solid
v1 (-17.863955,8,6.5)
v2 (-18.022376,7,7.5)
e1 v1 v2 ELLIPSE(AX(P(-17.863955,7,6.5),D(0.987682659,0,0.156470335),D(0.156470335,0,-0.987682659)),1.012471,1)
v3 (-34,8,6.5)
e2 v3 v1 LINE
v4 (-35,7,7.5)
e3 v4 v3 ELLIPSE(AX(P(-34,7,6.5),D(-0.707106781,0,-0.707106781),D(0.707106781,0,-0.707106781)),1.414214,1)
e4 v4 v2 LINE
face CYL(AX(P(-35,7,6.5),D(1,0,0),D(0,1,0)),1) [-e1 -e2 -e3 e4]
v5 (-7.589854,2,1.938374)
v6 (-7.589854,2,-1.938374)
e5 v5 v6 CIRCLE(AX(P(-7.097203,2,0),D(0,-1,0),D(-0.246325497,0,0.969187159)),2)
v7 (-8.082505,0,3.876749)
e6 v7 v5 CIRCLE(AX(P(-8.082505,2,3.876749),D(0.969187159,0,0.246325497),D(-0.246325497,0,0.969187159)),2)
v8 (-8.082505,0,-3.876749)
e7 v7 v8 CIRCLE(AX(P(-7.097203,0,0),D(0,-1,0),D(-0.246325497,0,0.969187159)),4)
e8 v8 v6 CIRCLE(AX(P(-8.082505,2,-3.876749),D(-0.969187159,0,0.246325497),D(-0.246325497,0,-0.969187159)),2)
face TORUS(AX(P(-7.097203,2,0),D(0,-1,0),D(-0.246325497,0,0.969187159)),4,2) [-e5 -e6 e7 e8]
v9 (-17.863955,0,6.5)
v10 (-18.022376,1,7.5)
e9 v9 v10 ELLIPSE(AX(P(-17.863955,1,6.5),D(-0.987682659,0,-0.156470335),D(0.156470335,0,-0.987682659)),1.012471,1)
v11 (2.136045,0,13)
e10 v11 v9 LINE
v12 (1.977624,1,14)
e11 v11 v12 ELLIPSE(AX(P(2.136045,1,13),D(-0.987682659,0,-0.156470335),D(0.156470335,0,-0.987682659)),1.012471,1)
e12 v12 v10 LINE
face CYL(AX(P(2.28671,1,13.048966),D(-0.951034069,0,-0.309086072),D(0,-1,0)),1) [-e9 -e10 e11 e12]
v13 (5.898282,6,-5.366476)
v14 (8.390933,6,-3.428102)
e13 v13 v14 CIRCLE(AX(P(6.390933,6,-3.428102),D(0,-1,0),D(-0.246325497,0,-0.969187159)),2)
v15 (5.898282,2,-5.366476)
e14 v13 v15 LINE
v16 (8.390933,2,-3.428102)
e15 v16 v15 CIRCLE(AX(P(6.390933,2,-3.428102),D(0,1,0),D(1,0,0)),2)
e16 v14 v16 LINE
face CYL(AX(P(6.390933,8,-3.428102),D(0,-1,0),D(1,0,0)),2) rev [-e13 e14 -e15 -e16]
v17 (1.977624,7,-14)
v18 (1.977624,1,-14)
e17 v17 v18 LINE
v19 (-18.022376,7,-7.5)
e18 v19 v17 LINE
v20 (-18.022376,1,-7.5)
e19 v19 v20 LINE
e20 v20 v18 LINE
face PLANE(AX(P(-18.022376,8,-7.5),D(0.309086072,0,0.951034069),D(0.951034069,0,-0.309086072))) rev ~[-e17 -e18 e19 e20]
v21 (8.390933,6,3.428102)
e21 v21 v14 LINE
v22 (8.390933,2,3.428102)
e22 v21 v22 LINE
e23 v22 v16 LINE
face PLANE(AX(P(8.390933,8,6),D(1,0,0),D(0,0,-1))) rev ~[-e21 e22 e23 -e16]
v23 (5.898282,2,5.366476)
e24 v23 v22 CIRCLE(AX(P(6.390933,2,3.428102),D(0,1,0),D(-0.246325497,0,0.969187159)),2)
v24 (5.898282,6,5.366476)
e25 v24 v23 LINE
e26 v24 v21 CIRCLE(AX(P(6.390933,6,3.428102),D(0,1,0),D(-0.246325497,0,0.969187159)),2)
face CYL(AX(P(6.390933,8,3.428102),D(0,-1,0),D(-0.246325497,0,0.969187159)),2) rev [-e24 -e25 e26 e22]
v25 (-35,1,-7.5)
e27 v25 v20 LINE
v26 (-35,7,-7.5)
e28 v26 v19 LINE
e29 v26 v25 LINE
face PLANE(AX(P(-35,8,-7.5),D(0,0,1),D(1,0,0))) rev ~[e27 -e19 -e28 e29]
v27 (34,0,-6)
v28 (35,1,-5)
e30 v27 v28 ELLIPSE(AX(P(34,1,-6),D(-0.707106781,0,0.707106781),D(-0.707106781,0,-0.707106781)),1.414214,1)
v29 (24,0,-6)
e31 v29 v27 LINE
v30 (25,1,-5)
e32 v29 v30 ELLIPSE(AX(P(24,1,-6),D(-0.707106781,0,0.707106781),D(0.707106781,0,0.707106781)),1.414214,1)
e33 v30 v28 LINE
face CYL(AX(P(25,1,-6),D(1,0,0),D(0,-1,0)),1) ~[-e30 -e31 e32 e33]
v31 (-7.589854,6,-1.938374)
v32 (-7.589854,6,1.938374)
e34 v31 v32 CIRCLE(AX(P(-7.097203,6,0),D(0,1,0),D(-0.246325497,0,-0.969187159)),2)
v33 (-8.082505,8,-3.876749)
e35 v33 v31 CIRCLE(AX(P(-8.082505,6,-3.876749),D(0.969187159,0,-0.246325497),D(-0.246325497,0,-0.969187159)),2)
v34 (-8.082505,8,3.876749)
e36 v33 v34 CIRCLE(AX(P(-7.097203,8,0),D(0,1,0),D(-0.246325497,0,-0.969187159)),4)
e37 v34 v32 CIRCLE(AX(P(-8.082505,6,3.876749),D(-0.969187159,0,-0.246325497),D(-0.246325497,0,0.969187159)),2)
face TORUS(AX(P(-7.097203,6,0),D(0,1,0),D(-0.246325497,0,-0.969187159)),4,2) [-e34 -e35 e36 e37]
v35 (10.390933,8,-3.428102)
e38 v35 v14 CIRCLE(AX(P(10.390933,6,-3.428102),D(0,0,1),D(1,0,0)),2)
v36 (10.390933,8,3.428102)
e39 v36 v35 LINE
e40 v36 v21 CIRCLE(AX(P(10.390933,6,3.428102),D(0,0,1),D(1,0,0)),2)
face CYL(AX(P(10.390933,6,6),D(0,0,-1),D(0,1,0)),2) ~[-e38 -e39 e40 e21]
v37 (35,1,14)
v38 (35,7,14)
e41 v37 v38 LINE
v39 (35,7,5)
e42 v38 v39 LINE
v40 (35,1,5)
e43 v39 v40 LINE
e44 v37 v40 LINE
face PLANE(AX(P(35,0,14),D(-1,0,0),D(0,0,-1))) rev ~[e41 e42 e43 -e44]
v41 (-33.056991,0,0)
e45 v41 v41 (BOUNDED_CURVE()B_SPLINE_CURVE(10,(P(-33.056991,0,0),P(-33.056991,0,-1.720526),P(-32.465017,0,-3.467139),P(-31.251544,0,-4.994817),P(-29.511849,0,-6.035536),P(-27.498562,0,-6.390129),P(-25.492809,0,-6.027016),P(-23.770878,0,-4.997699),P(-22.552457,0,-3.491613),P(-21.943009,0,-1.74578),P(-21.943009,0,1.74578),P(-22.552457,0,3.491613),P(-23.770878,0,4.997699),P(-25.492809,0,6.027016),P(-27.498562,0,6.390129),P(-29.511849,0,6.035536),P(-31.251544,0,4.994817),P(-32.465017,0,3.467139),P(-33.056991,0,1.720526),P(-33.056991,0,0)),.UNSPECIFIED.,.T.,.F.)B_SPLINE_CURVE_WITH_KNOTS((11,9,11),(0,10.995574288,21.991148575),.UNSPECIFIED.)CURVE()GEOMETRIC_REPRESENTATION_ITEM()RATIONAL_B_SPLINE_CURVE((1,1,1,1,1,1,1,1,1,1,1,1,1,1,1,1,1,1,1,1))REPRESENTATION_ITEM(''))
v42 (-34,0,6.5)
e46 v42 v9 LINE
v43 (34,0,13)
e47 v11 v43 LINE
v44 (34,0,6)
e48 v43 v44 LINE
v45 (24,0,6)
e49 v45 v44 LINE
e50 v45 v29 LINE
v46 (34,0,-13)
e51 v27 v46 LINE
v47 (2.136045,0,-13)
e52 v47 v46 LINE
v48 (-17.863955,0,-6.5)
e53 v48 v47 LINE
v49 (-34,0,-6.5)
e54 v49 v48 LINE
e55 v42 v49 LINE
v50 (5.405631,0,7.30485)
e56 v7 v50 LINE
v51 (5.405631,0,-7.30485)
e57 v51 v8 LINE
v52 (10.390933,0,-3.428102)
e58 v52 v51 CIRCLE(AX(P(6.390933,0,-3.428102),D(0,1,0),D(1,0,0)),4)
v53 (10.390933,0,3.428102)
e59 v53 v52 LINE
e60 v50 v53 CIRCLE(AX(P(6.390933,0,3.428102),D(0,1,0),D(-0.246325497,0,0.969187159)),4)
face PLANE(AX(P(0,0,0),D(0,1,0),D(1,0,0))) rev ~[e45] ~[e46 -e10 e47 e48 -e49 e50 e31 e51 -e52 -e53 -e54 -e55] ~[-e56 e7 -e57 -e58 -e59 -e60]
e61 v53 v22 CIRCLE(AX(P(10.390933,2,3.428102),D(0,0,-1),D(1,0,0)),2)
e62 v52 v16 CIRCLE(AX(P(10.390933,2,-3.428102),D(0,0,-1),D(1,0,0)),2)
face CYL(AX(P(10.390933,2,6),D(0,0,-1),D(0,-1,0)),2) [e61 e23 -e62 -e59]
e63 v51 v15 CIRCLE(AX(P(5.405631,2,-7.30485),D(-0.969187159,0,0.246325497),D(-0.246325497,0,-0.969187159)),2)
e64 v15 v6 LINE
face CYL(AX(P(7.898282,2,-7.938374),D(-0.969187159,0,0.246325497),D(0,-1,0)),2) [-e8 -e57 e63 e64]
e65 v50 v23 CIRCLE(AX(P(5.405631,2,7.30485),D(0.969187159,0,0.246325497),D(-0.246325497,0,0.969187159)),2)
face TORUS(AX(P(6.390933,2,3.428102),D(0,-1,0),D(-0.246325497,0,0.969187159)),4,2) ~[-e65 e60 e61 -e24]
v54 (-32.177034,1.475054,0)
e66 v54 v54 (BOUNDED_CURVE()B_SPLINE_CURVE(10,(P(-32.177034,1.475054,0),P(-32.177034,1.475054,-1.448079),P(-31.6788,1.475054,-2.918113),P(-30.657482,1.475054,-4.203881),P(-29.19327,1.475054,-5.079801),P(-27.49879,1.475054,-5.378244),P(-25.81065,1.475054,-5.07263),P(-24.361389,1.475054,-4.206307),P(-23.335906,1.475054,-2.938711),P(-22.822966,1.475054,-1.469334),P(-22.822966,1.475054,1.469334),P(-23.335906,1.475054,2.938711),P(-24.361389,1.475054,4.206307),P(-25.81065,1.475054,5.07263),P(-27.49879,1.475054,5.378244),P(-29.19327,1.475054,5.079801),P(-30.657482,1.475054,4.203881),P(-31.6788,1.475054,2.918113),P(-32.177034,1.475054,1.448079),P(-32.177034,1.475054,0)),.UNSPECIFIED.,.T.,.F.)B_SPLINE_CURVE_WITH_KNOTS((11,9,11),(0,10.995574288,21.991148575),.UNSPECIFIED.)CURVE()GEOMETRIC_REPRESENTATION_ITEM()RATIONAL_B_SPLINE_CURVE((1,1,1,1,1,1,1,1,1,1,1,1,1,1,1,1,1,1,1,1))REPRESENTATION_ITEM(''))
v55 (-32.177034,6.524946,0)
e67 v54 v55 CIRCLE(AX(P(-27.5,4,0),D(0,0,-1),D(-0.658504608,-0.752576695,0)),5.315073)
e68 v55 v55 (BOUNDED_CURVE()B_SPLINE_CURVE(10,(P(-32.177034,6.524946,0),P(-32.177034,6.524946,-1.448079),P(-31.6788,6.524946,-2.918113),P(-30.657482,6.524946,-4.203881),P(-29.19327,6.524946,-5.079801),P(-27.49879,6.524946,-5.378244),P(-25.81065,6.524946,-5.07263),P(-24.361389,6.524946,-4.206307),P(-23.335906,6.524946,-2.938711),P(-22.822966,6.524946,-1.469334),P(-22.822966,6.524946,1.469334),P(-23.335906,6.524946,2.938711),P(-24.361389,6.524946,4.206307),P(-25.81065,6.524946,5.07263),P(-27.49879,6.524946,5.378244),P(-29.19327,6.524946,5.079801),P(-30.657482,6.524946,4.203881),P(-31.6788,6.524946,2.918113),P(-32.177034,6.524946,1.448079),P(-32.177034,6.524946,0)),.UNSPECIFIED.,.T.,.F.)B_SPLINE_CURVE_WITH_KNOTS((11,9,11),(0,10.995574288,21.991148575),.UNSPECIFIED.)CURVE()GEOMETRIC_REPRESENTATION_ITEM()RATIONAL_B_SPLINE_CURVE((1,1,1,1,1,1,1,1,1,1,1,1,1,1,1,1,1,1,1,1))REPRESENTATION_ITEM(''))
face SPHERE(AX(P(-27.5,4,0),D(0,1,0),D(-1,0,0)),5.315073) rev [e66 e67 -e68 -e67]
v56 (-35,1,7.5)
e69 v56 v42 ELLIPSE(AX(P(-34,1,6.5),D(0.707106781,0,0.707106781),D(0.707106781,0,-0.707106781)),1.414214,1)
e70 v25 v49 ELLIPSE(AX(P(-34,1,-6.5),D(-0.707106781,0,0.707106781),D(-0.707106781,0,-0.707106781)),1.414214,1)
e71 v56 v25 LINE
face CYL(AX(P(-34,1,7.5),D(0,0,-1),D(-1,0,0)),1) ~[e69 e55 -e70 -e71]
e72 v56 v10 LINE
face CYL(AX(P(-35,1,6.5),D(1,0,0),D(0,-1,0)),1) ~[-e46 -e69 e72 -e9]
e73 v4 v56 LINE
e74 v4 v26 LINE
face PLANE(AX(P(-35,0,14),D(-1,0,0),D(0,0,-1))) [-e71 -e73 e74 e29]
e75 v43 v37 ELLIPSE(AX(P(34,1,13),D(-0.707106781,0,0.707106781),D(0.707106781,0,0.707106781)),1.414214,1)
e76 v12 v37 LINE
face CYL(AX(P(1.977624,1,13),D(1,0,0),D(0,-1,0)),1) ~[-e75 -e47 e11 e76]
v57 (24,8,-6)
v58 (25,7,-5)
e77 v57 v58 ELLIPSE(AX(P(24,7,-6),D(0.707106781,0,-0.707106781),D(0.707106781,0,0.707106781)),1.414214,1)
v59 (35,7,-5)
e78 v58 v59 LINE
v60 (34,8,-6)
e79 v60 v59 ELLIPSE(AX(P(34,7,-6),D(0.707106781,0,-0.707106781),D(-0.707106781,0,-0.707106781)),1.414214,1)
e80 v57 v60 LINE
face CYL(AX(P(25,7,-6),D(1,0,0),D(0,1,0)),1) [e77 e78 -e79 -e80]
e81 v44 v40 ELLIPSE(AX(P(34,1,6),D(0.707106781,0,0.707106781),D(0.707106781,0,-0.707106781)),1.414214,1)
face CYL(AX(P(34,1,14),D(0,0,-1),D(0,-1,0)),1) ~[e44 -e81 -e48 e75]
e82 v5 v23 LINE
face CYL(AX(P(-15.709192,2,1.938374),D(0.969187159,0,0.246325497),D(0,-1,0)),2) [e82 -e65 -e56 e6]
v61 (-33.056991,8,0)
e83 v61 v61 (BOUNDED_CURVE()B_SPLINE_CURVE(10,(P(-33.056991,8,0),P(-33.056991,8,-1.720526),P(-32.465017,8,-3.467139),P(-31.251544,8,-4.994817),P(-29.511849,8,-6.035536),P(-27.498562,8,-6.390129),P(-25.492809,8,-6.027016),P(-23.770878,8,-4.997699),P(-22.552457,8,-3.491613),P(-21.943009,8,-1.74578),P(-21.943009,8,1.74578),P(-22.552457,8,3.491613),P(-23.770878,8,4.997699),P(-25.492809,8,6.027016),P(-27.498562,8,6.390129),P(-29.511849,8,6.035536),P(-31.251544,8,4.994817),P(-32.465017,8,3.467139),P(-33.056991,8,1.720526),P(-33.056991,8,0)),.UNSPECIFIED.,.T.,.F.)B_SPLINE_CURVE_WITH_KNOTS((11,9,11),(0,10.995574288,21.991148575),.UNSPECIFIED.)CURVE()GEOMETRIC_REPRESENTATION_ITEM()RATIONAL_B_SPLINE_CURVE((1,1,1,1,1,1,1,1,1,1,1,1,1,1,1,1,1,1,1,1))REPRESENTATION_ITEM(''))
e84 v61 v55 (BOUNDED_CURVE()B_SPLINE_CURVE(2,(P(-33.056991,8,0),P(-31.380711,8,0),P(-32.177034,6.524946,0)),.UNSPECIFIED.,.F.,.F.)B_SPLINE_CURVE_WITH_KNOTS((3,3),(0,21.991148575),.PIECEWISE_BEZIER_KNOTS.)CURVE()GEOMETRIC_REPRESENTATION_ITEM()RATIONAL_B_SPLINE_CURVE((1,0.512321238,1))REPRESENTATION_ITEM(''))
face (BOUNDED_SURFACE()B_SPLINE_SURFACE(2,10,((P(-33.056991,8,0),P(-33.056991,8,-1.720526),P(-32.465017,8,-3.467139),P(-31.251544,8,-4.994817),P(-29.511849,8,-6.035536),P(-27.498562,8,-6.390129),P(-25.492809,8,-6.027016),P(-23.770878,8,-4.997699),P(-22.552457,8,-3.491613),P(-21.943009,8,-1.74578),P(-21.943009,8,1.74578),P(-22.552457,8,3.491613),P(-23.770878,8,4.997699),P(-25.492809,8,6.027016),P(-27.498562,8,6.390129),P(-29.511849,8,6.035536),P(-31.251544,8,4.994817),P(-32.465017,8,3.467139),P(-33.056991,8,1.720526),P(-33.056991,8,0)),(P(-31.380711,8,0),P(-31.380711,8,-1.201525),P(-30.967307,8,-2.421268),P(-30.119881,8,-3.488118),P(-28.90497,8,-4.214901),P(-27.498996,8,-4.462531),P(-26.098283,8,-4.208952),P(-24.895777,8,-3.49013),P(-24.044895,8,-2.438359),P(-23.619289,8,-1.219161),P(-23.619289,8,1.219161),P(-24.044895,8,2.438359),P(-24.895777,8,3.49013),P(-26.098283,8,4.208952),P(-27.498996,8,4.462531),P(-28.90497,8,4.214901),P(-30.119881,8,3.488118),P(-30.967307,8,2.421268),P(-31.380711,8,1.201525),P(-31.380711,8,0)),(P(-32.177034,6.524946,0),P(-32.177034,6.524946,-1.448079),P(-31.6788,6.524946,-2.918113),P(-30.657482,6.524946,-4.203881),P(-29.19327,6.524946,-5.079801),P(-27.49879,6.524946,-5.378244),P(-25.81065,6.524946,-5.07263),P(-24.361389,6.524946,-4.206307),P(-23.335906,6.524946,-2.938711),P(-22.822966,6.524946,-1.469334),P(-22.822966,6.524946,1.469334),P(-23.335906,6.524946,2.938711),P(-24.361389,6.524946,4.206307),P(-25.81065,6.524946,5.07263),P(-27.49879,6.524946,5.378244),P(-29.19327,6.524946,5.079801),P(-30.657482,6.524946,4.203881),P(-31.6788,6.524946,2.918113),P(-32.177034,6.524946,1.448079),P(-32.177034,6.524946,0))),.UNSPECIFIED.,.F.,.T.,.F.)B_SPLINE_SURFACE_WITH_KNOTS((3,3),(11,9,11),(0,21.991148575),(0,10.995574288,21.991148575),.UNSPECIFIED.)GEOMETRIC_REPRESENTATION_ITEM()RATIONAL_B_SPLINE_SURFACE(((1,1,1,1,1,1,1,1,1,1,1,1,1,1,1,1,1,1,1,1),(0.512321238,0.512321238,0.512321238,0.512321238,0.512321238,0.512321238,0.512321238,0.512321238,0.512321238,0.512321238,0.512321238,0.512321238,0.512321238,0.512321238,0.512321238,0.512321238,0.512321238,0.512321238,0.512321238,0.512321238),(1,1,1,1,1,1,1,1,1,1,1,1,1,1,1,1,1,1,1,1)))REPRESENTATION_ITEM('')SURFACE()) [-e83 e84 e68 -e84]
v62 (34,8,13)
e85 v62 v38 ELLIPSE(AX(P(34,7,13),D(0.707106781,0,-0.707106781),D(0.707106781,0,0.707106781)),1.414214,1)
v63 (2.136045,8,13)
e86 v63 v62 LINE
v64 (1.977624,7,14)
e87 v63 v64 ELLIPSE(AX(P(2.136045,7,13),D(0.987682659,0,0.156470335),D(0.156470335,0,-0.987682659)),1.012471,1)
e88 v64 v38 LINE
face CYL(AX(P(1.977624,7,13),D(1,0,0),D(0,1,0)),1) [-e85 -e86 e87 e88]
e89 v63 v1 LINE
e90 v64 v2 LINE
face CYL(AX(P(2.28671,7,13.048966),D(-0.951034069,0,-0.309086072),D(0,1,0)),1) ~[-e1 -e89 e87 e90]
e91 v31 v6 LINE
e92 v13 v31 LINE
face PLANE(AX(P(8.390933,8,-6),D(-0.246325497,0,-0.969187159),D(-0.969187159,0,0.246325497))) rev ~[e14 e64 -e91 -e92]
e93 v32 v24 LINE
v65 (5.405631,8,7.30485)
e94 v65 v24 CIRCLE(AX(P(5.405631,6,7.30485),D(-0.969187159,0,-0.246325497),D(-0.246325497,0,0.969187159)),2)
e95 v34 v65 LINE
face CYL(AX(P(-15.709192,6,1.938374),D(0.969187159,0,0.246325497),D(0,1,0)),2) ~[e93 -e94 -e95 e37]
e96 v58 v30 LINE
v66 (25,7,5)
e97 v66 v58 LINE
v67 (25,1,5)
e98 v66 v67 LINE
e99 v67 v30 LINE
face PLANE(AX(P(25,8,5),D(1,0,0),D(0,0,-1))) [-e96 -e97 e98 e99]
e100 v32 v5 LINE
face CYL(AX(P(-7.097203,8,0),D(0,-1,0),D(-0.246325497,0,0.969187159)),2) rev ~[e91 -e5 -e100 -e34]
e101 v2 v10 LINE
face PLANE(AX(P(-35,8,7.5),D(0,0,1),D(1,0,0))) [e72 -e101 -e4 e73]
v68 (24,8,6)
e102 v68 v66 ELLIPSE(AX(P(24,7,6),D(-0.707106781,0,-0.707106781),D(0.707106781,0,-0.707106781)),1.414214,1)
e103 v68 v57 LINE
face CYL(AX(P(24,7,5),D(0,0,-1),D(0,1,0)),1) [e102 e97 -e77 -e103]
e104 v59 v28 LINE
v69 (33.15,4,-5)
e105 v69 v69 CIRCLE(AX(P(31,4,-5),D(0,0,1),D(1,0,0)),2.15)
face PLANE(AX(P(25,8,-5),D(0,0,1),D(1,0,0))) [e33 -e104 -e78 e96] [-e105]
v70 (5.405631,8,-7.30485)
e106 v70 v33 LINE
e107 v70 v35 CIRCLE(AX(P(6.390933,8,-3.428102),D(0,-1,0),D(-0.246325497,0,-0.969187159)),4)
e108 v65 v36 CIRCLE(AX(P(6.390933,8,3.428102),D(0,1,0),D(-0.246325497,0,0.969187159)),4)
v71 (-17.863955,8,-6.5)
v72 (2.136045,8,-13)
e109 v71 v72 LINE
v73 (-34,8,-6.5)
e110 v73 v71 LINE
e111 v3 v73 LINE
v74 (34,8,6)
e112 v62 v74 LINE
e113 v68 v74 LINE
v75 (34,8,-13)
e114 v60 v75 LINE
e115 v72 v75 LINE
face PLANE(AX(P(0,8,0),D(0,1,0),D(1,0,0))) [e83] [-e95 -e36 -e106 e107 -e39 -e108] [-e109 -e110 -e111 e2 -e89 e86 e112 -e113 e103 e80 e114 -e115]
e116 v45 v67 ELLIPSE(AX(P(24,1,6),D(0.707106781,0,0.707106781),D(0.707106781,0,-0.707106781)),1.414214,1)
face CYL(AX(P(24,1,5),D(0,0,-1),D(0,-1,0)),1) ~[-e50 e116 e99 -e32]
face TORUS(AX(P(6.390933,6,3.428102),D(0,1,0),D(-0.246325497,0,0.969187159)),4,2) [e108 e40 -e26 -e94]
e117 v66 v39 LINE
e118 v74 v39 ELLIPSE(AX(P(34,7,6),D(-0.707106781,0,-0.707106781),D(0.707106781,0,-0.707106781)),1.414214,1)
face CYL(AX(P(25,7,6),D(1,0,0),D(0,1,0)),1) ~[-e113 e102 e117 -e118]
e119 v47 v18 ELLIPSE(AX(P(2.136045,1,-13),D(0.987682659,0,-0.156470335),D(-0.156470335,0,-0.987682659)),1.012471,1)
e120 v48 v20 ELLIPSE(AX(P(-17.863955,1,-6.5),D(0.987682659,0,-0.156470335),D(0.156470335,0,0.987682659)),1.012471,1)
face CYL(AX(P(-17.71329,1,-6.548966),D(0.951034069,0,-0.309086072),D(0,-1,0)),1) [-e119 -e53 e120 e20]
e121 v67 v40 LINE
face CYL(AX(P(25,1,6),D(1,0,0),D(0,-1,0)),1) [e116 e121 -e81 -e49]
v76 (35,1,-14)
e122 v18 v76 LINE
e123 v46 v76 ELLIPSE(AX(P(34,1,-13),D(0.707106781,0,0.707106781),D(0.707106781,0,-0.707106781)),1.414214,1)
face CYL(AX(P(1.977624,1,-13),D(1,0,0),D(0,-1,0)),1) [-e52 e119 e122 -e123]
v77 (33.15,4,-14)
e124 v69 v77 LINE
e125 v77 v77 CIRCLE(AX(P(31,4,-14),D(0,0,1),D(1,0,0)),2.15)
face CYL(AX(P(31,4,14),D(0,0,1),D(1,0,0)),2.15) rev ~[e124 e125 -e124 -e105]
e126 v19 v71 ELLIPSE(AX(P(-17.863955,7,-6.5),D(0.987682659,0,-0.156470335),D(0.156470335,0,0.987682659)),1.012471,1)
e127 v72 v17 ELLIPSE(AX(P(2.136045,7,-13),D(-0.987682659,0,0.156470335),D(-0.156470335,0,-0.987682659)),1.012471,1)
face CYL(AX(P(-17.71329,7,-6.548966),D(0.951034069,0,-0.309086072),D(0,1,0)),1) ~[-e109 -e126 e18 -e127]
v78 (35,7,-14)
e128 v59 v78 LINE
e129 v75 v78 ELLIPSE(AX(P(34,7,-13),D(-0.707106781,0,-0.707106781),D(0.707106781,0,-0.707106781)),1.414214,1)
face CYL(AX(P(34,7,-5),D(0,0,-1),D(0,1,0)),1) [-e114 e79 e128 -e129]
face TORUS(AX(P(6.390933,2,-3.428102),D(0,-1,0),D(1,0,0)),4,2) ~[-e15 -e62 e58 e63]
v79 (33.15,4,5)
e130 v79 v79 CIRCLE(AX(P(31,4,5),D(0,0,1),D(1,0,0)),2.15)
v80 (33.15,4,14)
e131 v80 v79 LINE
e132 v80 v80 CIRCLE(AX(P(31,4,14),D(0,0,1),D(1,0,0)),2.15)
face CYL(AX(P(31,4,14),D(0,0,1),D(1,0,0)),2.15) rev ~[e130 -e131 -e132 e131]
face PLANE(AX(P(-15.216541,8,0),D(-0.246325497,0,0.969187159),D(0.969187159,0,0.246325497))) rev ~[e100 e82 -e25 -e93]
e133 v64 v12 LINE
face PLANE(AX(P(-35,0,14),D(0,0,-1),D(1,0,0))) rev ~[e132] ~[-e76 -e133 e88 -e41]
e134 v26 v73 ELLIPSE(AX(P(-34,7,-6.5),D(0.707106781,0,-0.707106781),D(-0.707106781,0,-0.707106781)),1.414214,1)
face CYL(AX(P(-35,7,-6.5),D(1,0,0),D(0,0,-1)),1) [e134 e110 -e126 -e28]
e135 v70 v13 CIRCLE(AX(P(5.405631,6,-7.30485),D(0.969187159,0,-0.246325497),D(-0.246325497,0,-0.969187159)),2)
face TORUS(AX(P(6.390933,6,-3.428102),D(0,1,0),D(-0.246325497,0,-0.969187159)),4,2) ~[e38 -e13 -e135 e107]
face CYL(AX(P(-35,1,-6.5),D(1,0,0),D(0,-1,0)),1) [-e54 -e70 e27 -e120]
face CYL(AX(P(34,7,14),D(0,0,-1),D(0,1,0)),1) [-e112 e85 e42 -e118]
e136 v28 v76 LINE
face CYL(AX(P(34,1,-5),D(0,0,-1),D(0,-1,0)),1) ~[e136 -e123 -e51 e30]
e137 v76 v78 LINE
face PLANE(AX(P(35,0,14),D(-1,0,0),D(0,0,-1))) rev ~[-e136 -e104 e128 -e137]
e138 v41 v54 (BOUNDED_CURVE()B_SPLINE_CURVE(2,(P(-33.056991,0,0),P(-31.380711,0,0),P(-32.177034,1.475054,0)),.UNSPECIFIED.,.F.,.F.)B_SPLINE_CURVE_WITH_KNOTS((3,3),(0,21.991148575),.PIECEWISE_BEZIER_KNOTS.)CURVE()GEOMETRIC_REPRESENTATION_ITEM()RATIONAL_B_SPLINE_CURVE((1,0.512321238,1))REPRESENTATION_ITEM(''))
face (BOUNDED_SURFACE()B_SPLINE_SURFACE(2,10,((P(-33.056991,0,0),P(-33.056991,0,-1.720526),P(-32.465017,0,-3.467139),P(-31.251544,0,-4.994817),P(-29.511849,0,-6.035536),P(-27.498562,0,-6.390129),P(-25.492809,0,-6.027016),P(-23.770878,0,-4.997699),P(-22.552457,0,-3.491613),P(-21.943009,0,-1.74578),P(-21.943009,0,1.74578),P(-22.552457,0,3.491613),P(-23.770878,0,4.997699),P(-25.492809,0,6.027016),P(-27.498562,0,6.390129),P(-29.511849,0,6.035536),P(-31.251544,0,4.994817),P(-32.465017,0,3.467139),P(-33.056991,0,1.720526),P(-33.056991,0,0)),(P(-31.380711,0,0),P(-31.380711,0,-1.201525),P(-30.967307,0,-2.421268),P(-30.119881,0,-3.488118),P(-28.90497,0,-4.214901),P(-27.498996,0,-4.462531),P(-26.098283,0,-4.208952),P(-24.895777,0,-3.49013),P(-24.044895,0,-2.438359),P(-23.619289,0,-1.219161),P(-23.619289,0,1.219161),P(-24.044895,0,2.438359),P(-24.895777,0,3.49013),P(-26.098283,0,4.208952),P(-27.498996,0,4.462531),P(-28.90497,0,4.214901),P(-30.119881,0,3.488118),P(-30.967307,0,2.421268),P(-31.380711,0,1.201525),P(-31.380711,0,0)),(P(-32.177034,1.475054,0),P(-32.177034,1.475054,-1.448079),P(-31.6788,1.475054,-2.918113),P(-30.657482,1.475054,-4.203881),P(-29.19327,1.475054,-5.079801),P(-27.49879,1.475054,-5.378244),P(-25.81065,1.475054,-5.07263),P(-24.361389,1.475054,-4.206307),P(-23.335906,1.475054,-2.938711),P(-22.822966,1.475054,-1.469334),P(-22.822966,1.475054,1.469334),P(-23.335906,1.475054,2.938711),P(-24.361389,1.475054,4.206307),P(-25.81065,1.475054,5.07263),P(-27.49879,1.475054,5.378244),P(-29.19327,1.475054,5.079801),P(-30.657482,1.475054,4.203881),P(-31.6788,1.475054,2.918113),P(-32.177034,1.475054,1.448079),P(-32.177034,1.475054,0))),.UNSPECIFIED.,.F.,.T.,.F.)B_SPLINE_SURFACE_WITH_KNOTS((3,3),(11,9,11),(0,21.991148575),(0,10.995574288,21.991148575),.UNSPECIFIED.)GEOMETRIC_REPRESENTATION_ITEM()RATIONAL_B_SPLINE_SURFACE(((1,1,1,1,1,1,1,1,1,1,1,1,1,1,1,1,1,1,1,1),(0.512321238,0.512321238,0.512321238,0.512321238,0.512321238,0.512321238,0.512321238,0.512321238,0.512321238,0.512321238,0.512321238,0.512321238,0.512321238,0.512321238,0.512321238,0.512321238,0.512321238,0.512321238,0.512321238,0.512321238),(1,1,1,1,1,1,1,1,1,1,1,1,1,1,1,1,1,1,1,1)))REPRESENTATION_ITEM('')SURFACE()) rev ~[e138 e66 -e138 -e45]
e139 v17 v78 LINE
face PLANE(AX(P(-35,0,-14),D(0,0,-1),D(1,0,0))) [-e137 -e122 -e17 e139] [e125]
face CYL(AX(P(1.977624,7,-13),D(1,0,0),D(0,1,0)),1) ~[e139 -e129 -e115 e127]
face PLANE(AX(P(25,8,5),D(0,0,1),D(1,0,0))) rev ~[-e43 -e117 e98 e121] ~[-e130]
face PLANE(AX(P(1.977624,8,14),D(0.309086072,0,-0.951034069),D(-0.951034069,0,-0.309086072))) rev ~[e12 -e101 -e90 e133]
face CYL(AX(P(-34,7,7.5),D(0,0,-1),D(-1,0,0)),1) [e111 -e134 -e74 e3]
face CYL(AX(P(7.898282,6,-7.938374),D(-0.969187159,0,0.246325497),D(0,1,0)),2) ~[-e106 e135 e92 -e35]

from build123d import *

# Parameters (mm, degrees)
SKETCH1_W           = 70
SKETCH1_H           = 28
BOSS_EXTRUDE1_DEPTH = 8
SKETCH2_W           = 10
SKETCH2_H           = 10
CUT_EXTRUDE1_DEPTH  = 10
SKETCH3_R           = 2.15
CUT_EXTRUDE2_DEPTH  = 46.530209751
SKETCH5_W           = 16.977623655
SKETCH5_H           = 6.5
CUT_EXTRUDE4_DEPTH  = 39.535697736
FILLET1_R           = 1
CUT_EXTRUDE5_DEPTH  = 10
FILLET2_R           = 2


with BuildPart() as part:
    # Sketch1 → Boss-Extrude1 (new body)
    with BuildSketch(Plane(origin=(0, 0, 0), x_dir=(1, 0, 0), z_dir=(0, 1, 0))):
        Rectangle(SKETCH1_W, SKETCH1_H)
    extrude(amount=BOSS_EXTRUDE1_DEPTH)

    # Sketch2 → Cut-Extrude1 (cut)
    with BuildSketch(Plane(origin=(0, 8, 0), x_dir=(1, 0, 0), z_dir=(0, 1, 0))):
        with Locations((30, 0)):
            Rectangle(SKETCH2_W, SKETCH2_H)
    extrude(amount=-CUT_EXTRUDE1_DEPTH, mode=Mode.SUBTRACT)

    # Sketch3 → Cut-Extrude2 (cut, through all)
    with BuildSketch(Plane.XY.offset(14)):
        with Locations((31, 4)):
            Circle(SKETCH3_R)
    extrude(amount=-CUT_EXTRUDE2_DEPTH, mode=Mode.SUBTRACT)

    # Sketch5 → Cut-Extrude4 (cut, through all)
    with BuildSketch(Plane(origin=(0, 8, 0), x_dir=(1, 0, 0), z_dir=(0, 1, 0))):
        with Locations((-26.511188172, 10.75)):
            Rectangle(SKETCH5_W, SKETCH5_H)
        Polygon((-18.022376345, 14), (-18.022376345, 7.5), (1.977623655, 14), align=None)
        Polygon((1.977623655, -14), (-18.022376345, -7.5), (-18.022376345, -14), align=None)
        with Locations((-26.511188172, -10.75)):
            Rectangle(SKETCH5_W, SKETCH5_H)
    extrude(amount=-CUT_EXTRUDE4_DEPTH, mode=Mode.SUBTRACT)

    # Sketch6 → Cut-Revolve1 (revolve, cut)
    with BuildSketch(Plane.XY):
        with BuildLine():
            Line((-31, 8), (-27.5, 8))
            Line((-27.5, 8), (-27.5, 0))
            Line((-27.5, 0), (-31, 0))
            ThreePointArc((-31, 0), (-32.815072906, 4), (-31, 8))
        make_face()
    revolve(axis=Axis((-27.5, 8, 0), (0, -1, 0)), mode=Mode.SUBTRACT)

    # Fillet1
    fillet1_edges = [part.edges().sort_by_distance(p)[0] for p in [
        (35, 0, -9.5),
        (30, 0, -5),
        (25, 0, 0),
        (30, 0, 5),
        (35, 8, -9.5),
        (30, 8, -5),
        (25, 8, 0),
        (30, 8, 5),
        (18.488811828, 0, 14),
        (-35, 0, 0),
        (-35, 8, 0),
        (18.488811828, 8, 14),
        (35, 8, 9.5),
        (-26.511188172, 0, -7.5),
        (-8.022376345, 0, -10.75),
        (-26.511188172, 8, -7.5),
        (-8.022376345, 8, -10.75),
        (18.488811828, 0, -14),
        (-8.022376345, 8, 10.75),
        (-26.511188172, 8, 7.5),
        (-8.022376345, 0, 10.75),
        (35, 0, 9.5),
        (-26.511188172, 0, 7.5),
        (-24, 0, 0),
        (-24, 8, 0),
        (18.488811828, 8, -14),
    ]]
    fillet(fillet1_edges, radius=FILLET1_R)

    # Sketch7 → Cut-Extrude5 (cut)
    with BuildSketch(Plane(origin=(0, 8, 0), x_dir=(1, 0, 0), z_dir=(0, 1, 0))):
        Polygon((-15.216541459, 0), (8.390933297, -6), (8.390933297, 6), align=None)
    extrude(amount=-CUT_EXTRUDE5_DEPTH, mode=Mode.SUBTRACT)

    # Fillet2
    fillet2_edges = [part.edges().sort_by_distance(p)[0] for p in [
        (-3.412804081, 0, 3),
        (8.390933297, 0, 0),
        (-3.412804081, 0, -3),
        (-15.216541459, 4, 0),
        (8.390933297, 4, -6),
        (8.390933297, 4, 6),
        (-3.412804081, 8, -3),
        (-3.412804081, 8, 3),
        (8.390933297, 8, 0),
    ]]
    fillet(fillet2_edges, radius=FILLET2_R)


solid = part.part
